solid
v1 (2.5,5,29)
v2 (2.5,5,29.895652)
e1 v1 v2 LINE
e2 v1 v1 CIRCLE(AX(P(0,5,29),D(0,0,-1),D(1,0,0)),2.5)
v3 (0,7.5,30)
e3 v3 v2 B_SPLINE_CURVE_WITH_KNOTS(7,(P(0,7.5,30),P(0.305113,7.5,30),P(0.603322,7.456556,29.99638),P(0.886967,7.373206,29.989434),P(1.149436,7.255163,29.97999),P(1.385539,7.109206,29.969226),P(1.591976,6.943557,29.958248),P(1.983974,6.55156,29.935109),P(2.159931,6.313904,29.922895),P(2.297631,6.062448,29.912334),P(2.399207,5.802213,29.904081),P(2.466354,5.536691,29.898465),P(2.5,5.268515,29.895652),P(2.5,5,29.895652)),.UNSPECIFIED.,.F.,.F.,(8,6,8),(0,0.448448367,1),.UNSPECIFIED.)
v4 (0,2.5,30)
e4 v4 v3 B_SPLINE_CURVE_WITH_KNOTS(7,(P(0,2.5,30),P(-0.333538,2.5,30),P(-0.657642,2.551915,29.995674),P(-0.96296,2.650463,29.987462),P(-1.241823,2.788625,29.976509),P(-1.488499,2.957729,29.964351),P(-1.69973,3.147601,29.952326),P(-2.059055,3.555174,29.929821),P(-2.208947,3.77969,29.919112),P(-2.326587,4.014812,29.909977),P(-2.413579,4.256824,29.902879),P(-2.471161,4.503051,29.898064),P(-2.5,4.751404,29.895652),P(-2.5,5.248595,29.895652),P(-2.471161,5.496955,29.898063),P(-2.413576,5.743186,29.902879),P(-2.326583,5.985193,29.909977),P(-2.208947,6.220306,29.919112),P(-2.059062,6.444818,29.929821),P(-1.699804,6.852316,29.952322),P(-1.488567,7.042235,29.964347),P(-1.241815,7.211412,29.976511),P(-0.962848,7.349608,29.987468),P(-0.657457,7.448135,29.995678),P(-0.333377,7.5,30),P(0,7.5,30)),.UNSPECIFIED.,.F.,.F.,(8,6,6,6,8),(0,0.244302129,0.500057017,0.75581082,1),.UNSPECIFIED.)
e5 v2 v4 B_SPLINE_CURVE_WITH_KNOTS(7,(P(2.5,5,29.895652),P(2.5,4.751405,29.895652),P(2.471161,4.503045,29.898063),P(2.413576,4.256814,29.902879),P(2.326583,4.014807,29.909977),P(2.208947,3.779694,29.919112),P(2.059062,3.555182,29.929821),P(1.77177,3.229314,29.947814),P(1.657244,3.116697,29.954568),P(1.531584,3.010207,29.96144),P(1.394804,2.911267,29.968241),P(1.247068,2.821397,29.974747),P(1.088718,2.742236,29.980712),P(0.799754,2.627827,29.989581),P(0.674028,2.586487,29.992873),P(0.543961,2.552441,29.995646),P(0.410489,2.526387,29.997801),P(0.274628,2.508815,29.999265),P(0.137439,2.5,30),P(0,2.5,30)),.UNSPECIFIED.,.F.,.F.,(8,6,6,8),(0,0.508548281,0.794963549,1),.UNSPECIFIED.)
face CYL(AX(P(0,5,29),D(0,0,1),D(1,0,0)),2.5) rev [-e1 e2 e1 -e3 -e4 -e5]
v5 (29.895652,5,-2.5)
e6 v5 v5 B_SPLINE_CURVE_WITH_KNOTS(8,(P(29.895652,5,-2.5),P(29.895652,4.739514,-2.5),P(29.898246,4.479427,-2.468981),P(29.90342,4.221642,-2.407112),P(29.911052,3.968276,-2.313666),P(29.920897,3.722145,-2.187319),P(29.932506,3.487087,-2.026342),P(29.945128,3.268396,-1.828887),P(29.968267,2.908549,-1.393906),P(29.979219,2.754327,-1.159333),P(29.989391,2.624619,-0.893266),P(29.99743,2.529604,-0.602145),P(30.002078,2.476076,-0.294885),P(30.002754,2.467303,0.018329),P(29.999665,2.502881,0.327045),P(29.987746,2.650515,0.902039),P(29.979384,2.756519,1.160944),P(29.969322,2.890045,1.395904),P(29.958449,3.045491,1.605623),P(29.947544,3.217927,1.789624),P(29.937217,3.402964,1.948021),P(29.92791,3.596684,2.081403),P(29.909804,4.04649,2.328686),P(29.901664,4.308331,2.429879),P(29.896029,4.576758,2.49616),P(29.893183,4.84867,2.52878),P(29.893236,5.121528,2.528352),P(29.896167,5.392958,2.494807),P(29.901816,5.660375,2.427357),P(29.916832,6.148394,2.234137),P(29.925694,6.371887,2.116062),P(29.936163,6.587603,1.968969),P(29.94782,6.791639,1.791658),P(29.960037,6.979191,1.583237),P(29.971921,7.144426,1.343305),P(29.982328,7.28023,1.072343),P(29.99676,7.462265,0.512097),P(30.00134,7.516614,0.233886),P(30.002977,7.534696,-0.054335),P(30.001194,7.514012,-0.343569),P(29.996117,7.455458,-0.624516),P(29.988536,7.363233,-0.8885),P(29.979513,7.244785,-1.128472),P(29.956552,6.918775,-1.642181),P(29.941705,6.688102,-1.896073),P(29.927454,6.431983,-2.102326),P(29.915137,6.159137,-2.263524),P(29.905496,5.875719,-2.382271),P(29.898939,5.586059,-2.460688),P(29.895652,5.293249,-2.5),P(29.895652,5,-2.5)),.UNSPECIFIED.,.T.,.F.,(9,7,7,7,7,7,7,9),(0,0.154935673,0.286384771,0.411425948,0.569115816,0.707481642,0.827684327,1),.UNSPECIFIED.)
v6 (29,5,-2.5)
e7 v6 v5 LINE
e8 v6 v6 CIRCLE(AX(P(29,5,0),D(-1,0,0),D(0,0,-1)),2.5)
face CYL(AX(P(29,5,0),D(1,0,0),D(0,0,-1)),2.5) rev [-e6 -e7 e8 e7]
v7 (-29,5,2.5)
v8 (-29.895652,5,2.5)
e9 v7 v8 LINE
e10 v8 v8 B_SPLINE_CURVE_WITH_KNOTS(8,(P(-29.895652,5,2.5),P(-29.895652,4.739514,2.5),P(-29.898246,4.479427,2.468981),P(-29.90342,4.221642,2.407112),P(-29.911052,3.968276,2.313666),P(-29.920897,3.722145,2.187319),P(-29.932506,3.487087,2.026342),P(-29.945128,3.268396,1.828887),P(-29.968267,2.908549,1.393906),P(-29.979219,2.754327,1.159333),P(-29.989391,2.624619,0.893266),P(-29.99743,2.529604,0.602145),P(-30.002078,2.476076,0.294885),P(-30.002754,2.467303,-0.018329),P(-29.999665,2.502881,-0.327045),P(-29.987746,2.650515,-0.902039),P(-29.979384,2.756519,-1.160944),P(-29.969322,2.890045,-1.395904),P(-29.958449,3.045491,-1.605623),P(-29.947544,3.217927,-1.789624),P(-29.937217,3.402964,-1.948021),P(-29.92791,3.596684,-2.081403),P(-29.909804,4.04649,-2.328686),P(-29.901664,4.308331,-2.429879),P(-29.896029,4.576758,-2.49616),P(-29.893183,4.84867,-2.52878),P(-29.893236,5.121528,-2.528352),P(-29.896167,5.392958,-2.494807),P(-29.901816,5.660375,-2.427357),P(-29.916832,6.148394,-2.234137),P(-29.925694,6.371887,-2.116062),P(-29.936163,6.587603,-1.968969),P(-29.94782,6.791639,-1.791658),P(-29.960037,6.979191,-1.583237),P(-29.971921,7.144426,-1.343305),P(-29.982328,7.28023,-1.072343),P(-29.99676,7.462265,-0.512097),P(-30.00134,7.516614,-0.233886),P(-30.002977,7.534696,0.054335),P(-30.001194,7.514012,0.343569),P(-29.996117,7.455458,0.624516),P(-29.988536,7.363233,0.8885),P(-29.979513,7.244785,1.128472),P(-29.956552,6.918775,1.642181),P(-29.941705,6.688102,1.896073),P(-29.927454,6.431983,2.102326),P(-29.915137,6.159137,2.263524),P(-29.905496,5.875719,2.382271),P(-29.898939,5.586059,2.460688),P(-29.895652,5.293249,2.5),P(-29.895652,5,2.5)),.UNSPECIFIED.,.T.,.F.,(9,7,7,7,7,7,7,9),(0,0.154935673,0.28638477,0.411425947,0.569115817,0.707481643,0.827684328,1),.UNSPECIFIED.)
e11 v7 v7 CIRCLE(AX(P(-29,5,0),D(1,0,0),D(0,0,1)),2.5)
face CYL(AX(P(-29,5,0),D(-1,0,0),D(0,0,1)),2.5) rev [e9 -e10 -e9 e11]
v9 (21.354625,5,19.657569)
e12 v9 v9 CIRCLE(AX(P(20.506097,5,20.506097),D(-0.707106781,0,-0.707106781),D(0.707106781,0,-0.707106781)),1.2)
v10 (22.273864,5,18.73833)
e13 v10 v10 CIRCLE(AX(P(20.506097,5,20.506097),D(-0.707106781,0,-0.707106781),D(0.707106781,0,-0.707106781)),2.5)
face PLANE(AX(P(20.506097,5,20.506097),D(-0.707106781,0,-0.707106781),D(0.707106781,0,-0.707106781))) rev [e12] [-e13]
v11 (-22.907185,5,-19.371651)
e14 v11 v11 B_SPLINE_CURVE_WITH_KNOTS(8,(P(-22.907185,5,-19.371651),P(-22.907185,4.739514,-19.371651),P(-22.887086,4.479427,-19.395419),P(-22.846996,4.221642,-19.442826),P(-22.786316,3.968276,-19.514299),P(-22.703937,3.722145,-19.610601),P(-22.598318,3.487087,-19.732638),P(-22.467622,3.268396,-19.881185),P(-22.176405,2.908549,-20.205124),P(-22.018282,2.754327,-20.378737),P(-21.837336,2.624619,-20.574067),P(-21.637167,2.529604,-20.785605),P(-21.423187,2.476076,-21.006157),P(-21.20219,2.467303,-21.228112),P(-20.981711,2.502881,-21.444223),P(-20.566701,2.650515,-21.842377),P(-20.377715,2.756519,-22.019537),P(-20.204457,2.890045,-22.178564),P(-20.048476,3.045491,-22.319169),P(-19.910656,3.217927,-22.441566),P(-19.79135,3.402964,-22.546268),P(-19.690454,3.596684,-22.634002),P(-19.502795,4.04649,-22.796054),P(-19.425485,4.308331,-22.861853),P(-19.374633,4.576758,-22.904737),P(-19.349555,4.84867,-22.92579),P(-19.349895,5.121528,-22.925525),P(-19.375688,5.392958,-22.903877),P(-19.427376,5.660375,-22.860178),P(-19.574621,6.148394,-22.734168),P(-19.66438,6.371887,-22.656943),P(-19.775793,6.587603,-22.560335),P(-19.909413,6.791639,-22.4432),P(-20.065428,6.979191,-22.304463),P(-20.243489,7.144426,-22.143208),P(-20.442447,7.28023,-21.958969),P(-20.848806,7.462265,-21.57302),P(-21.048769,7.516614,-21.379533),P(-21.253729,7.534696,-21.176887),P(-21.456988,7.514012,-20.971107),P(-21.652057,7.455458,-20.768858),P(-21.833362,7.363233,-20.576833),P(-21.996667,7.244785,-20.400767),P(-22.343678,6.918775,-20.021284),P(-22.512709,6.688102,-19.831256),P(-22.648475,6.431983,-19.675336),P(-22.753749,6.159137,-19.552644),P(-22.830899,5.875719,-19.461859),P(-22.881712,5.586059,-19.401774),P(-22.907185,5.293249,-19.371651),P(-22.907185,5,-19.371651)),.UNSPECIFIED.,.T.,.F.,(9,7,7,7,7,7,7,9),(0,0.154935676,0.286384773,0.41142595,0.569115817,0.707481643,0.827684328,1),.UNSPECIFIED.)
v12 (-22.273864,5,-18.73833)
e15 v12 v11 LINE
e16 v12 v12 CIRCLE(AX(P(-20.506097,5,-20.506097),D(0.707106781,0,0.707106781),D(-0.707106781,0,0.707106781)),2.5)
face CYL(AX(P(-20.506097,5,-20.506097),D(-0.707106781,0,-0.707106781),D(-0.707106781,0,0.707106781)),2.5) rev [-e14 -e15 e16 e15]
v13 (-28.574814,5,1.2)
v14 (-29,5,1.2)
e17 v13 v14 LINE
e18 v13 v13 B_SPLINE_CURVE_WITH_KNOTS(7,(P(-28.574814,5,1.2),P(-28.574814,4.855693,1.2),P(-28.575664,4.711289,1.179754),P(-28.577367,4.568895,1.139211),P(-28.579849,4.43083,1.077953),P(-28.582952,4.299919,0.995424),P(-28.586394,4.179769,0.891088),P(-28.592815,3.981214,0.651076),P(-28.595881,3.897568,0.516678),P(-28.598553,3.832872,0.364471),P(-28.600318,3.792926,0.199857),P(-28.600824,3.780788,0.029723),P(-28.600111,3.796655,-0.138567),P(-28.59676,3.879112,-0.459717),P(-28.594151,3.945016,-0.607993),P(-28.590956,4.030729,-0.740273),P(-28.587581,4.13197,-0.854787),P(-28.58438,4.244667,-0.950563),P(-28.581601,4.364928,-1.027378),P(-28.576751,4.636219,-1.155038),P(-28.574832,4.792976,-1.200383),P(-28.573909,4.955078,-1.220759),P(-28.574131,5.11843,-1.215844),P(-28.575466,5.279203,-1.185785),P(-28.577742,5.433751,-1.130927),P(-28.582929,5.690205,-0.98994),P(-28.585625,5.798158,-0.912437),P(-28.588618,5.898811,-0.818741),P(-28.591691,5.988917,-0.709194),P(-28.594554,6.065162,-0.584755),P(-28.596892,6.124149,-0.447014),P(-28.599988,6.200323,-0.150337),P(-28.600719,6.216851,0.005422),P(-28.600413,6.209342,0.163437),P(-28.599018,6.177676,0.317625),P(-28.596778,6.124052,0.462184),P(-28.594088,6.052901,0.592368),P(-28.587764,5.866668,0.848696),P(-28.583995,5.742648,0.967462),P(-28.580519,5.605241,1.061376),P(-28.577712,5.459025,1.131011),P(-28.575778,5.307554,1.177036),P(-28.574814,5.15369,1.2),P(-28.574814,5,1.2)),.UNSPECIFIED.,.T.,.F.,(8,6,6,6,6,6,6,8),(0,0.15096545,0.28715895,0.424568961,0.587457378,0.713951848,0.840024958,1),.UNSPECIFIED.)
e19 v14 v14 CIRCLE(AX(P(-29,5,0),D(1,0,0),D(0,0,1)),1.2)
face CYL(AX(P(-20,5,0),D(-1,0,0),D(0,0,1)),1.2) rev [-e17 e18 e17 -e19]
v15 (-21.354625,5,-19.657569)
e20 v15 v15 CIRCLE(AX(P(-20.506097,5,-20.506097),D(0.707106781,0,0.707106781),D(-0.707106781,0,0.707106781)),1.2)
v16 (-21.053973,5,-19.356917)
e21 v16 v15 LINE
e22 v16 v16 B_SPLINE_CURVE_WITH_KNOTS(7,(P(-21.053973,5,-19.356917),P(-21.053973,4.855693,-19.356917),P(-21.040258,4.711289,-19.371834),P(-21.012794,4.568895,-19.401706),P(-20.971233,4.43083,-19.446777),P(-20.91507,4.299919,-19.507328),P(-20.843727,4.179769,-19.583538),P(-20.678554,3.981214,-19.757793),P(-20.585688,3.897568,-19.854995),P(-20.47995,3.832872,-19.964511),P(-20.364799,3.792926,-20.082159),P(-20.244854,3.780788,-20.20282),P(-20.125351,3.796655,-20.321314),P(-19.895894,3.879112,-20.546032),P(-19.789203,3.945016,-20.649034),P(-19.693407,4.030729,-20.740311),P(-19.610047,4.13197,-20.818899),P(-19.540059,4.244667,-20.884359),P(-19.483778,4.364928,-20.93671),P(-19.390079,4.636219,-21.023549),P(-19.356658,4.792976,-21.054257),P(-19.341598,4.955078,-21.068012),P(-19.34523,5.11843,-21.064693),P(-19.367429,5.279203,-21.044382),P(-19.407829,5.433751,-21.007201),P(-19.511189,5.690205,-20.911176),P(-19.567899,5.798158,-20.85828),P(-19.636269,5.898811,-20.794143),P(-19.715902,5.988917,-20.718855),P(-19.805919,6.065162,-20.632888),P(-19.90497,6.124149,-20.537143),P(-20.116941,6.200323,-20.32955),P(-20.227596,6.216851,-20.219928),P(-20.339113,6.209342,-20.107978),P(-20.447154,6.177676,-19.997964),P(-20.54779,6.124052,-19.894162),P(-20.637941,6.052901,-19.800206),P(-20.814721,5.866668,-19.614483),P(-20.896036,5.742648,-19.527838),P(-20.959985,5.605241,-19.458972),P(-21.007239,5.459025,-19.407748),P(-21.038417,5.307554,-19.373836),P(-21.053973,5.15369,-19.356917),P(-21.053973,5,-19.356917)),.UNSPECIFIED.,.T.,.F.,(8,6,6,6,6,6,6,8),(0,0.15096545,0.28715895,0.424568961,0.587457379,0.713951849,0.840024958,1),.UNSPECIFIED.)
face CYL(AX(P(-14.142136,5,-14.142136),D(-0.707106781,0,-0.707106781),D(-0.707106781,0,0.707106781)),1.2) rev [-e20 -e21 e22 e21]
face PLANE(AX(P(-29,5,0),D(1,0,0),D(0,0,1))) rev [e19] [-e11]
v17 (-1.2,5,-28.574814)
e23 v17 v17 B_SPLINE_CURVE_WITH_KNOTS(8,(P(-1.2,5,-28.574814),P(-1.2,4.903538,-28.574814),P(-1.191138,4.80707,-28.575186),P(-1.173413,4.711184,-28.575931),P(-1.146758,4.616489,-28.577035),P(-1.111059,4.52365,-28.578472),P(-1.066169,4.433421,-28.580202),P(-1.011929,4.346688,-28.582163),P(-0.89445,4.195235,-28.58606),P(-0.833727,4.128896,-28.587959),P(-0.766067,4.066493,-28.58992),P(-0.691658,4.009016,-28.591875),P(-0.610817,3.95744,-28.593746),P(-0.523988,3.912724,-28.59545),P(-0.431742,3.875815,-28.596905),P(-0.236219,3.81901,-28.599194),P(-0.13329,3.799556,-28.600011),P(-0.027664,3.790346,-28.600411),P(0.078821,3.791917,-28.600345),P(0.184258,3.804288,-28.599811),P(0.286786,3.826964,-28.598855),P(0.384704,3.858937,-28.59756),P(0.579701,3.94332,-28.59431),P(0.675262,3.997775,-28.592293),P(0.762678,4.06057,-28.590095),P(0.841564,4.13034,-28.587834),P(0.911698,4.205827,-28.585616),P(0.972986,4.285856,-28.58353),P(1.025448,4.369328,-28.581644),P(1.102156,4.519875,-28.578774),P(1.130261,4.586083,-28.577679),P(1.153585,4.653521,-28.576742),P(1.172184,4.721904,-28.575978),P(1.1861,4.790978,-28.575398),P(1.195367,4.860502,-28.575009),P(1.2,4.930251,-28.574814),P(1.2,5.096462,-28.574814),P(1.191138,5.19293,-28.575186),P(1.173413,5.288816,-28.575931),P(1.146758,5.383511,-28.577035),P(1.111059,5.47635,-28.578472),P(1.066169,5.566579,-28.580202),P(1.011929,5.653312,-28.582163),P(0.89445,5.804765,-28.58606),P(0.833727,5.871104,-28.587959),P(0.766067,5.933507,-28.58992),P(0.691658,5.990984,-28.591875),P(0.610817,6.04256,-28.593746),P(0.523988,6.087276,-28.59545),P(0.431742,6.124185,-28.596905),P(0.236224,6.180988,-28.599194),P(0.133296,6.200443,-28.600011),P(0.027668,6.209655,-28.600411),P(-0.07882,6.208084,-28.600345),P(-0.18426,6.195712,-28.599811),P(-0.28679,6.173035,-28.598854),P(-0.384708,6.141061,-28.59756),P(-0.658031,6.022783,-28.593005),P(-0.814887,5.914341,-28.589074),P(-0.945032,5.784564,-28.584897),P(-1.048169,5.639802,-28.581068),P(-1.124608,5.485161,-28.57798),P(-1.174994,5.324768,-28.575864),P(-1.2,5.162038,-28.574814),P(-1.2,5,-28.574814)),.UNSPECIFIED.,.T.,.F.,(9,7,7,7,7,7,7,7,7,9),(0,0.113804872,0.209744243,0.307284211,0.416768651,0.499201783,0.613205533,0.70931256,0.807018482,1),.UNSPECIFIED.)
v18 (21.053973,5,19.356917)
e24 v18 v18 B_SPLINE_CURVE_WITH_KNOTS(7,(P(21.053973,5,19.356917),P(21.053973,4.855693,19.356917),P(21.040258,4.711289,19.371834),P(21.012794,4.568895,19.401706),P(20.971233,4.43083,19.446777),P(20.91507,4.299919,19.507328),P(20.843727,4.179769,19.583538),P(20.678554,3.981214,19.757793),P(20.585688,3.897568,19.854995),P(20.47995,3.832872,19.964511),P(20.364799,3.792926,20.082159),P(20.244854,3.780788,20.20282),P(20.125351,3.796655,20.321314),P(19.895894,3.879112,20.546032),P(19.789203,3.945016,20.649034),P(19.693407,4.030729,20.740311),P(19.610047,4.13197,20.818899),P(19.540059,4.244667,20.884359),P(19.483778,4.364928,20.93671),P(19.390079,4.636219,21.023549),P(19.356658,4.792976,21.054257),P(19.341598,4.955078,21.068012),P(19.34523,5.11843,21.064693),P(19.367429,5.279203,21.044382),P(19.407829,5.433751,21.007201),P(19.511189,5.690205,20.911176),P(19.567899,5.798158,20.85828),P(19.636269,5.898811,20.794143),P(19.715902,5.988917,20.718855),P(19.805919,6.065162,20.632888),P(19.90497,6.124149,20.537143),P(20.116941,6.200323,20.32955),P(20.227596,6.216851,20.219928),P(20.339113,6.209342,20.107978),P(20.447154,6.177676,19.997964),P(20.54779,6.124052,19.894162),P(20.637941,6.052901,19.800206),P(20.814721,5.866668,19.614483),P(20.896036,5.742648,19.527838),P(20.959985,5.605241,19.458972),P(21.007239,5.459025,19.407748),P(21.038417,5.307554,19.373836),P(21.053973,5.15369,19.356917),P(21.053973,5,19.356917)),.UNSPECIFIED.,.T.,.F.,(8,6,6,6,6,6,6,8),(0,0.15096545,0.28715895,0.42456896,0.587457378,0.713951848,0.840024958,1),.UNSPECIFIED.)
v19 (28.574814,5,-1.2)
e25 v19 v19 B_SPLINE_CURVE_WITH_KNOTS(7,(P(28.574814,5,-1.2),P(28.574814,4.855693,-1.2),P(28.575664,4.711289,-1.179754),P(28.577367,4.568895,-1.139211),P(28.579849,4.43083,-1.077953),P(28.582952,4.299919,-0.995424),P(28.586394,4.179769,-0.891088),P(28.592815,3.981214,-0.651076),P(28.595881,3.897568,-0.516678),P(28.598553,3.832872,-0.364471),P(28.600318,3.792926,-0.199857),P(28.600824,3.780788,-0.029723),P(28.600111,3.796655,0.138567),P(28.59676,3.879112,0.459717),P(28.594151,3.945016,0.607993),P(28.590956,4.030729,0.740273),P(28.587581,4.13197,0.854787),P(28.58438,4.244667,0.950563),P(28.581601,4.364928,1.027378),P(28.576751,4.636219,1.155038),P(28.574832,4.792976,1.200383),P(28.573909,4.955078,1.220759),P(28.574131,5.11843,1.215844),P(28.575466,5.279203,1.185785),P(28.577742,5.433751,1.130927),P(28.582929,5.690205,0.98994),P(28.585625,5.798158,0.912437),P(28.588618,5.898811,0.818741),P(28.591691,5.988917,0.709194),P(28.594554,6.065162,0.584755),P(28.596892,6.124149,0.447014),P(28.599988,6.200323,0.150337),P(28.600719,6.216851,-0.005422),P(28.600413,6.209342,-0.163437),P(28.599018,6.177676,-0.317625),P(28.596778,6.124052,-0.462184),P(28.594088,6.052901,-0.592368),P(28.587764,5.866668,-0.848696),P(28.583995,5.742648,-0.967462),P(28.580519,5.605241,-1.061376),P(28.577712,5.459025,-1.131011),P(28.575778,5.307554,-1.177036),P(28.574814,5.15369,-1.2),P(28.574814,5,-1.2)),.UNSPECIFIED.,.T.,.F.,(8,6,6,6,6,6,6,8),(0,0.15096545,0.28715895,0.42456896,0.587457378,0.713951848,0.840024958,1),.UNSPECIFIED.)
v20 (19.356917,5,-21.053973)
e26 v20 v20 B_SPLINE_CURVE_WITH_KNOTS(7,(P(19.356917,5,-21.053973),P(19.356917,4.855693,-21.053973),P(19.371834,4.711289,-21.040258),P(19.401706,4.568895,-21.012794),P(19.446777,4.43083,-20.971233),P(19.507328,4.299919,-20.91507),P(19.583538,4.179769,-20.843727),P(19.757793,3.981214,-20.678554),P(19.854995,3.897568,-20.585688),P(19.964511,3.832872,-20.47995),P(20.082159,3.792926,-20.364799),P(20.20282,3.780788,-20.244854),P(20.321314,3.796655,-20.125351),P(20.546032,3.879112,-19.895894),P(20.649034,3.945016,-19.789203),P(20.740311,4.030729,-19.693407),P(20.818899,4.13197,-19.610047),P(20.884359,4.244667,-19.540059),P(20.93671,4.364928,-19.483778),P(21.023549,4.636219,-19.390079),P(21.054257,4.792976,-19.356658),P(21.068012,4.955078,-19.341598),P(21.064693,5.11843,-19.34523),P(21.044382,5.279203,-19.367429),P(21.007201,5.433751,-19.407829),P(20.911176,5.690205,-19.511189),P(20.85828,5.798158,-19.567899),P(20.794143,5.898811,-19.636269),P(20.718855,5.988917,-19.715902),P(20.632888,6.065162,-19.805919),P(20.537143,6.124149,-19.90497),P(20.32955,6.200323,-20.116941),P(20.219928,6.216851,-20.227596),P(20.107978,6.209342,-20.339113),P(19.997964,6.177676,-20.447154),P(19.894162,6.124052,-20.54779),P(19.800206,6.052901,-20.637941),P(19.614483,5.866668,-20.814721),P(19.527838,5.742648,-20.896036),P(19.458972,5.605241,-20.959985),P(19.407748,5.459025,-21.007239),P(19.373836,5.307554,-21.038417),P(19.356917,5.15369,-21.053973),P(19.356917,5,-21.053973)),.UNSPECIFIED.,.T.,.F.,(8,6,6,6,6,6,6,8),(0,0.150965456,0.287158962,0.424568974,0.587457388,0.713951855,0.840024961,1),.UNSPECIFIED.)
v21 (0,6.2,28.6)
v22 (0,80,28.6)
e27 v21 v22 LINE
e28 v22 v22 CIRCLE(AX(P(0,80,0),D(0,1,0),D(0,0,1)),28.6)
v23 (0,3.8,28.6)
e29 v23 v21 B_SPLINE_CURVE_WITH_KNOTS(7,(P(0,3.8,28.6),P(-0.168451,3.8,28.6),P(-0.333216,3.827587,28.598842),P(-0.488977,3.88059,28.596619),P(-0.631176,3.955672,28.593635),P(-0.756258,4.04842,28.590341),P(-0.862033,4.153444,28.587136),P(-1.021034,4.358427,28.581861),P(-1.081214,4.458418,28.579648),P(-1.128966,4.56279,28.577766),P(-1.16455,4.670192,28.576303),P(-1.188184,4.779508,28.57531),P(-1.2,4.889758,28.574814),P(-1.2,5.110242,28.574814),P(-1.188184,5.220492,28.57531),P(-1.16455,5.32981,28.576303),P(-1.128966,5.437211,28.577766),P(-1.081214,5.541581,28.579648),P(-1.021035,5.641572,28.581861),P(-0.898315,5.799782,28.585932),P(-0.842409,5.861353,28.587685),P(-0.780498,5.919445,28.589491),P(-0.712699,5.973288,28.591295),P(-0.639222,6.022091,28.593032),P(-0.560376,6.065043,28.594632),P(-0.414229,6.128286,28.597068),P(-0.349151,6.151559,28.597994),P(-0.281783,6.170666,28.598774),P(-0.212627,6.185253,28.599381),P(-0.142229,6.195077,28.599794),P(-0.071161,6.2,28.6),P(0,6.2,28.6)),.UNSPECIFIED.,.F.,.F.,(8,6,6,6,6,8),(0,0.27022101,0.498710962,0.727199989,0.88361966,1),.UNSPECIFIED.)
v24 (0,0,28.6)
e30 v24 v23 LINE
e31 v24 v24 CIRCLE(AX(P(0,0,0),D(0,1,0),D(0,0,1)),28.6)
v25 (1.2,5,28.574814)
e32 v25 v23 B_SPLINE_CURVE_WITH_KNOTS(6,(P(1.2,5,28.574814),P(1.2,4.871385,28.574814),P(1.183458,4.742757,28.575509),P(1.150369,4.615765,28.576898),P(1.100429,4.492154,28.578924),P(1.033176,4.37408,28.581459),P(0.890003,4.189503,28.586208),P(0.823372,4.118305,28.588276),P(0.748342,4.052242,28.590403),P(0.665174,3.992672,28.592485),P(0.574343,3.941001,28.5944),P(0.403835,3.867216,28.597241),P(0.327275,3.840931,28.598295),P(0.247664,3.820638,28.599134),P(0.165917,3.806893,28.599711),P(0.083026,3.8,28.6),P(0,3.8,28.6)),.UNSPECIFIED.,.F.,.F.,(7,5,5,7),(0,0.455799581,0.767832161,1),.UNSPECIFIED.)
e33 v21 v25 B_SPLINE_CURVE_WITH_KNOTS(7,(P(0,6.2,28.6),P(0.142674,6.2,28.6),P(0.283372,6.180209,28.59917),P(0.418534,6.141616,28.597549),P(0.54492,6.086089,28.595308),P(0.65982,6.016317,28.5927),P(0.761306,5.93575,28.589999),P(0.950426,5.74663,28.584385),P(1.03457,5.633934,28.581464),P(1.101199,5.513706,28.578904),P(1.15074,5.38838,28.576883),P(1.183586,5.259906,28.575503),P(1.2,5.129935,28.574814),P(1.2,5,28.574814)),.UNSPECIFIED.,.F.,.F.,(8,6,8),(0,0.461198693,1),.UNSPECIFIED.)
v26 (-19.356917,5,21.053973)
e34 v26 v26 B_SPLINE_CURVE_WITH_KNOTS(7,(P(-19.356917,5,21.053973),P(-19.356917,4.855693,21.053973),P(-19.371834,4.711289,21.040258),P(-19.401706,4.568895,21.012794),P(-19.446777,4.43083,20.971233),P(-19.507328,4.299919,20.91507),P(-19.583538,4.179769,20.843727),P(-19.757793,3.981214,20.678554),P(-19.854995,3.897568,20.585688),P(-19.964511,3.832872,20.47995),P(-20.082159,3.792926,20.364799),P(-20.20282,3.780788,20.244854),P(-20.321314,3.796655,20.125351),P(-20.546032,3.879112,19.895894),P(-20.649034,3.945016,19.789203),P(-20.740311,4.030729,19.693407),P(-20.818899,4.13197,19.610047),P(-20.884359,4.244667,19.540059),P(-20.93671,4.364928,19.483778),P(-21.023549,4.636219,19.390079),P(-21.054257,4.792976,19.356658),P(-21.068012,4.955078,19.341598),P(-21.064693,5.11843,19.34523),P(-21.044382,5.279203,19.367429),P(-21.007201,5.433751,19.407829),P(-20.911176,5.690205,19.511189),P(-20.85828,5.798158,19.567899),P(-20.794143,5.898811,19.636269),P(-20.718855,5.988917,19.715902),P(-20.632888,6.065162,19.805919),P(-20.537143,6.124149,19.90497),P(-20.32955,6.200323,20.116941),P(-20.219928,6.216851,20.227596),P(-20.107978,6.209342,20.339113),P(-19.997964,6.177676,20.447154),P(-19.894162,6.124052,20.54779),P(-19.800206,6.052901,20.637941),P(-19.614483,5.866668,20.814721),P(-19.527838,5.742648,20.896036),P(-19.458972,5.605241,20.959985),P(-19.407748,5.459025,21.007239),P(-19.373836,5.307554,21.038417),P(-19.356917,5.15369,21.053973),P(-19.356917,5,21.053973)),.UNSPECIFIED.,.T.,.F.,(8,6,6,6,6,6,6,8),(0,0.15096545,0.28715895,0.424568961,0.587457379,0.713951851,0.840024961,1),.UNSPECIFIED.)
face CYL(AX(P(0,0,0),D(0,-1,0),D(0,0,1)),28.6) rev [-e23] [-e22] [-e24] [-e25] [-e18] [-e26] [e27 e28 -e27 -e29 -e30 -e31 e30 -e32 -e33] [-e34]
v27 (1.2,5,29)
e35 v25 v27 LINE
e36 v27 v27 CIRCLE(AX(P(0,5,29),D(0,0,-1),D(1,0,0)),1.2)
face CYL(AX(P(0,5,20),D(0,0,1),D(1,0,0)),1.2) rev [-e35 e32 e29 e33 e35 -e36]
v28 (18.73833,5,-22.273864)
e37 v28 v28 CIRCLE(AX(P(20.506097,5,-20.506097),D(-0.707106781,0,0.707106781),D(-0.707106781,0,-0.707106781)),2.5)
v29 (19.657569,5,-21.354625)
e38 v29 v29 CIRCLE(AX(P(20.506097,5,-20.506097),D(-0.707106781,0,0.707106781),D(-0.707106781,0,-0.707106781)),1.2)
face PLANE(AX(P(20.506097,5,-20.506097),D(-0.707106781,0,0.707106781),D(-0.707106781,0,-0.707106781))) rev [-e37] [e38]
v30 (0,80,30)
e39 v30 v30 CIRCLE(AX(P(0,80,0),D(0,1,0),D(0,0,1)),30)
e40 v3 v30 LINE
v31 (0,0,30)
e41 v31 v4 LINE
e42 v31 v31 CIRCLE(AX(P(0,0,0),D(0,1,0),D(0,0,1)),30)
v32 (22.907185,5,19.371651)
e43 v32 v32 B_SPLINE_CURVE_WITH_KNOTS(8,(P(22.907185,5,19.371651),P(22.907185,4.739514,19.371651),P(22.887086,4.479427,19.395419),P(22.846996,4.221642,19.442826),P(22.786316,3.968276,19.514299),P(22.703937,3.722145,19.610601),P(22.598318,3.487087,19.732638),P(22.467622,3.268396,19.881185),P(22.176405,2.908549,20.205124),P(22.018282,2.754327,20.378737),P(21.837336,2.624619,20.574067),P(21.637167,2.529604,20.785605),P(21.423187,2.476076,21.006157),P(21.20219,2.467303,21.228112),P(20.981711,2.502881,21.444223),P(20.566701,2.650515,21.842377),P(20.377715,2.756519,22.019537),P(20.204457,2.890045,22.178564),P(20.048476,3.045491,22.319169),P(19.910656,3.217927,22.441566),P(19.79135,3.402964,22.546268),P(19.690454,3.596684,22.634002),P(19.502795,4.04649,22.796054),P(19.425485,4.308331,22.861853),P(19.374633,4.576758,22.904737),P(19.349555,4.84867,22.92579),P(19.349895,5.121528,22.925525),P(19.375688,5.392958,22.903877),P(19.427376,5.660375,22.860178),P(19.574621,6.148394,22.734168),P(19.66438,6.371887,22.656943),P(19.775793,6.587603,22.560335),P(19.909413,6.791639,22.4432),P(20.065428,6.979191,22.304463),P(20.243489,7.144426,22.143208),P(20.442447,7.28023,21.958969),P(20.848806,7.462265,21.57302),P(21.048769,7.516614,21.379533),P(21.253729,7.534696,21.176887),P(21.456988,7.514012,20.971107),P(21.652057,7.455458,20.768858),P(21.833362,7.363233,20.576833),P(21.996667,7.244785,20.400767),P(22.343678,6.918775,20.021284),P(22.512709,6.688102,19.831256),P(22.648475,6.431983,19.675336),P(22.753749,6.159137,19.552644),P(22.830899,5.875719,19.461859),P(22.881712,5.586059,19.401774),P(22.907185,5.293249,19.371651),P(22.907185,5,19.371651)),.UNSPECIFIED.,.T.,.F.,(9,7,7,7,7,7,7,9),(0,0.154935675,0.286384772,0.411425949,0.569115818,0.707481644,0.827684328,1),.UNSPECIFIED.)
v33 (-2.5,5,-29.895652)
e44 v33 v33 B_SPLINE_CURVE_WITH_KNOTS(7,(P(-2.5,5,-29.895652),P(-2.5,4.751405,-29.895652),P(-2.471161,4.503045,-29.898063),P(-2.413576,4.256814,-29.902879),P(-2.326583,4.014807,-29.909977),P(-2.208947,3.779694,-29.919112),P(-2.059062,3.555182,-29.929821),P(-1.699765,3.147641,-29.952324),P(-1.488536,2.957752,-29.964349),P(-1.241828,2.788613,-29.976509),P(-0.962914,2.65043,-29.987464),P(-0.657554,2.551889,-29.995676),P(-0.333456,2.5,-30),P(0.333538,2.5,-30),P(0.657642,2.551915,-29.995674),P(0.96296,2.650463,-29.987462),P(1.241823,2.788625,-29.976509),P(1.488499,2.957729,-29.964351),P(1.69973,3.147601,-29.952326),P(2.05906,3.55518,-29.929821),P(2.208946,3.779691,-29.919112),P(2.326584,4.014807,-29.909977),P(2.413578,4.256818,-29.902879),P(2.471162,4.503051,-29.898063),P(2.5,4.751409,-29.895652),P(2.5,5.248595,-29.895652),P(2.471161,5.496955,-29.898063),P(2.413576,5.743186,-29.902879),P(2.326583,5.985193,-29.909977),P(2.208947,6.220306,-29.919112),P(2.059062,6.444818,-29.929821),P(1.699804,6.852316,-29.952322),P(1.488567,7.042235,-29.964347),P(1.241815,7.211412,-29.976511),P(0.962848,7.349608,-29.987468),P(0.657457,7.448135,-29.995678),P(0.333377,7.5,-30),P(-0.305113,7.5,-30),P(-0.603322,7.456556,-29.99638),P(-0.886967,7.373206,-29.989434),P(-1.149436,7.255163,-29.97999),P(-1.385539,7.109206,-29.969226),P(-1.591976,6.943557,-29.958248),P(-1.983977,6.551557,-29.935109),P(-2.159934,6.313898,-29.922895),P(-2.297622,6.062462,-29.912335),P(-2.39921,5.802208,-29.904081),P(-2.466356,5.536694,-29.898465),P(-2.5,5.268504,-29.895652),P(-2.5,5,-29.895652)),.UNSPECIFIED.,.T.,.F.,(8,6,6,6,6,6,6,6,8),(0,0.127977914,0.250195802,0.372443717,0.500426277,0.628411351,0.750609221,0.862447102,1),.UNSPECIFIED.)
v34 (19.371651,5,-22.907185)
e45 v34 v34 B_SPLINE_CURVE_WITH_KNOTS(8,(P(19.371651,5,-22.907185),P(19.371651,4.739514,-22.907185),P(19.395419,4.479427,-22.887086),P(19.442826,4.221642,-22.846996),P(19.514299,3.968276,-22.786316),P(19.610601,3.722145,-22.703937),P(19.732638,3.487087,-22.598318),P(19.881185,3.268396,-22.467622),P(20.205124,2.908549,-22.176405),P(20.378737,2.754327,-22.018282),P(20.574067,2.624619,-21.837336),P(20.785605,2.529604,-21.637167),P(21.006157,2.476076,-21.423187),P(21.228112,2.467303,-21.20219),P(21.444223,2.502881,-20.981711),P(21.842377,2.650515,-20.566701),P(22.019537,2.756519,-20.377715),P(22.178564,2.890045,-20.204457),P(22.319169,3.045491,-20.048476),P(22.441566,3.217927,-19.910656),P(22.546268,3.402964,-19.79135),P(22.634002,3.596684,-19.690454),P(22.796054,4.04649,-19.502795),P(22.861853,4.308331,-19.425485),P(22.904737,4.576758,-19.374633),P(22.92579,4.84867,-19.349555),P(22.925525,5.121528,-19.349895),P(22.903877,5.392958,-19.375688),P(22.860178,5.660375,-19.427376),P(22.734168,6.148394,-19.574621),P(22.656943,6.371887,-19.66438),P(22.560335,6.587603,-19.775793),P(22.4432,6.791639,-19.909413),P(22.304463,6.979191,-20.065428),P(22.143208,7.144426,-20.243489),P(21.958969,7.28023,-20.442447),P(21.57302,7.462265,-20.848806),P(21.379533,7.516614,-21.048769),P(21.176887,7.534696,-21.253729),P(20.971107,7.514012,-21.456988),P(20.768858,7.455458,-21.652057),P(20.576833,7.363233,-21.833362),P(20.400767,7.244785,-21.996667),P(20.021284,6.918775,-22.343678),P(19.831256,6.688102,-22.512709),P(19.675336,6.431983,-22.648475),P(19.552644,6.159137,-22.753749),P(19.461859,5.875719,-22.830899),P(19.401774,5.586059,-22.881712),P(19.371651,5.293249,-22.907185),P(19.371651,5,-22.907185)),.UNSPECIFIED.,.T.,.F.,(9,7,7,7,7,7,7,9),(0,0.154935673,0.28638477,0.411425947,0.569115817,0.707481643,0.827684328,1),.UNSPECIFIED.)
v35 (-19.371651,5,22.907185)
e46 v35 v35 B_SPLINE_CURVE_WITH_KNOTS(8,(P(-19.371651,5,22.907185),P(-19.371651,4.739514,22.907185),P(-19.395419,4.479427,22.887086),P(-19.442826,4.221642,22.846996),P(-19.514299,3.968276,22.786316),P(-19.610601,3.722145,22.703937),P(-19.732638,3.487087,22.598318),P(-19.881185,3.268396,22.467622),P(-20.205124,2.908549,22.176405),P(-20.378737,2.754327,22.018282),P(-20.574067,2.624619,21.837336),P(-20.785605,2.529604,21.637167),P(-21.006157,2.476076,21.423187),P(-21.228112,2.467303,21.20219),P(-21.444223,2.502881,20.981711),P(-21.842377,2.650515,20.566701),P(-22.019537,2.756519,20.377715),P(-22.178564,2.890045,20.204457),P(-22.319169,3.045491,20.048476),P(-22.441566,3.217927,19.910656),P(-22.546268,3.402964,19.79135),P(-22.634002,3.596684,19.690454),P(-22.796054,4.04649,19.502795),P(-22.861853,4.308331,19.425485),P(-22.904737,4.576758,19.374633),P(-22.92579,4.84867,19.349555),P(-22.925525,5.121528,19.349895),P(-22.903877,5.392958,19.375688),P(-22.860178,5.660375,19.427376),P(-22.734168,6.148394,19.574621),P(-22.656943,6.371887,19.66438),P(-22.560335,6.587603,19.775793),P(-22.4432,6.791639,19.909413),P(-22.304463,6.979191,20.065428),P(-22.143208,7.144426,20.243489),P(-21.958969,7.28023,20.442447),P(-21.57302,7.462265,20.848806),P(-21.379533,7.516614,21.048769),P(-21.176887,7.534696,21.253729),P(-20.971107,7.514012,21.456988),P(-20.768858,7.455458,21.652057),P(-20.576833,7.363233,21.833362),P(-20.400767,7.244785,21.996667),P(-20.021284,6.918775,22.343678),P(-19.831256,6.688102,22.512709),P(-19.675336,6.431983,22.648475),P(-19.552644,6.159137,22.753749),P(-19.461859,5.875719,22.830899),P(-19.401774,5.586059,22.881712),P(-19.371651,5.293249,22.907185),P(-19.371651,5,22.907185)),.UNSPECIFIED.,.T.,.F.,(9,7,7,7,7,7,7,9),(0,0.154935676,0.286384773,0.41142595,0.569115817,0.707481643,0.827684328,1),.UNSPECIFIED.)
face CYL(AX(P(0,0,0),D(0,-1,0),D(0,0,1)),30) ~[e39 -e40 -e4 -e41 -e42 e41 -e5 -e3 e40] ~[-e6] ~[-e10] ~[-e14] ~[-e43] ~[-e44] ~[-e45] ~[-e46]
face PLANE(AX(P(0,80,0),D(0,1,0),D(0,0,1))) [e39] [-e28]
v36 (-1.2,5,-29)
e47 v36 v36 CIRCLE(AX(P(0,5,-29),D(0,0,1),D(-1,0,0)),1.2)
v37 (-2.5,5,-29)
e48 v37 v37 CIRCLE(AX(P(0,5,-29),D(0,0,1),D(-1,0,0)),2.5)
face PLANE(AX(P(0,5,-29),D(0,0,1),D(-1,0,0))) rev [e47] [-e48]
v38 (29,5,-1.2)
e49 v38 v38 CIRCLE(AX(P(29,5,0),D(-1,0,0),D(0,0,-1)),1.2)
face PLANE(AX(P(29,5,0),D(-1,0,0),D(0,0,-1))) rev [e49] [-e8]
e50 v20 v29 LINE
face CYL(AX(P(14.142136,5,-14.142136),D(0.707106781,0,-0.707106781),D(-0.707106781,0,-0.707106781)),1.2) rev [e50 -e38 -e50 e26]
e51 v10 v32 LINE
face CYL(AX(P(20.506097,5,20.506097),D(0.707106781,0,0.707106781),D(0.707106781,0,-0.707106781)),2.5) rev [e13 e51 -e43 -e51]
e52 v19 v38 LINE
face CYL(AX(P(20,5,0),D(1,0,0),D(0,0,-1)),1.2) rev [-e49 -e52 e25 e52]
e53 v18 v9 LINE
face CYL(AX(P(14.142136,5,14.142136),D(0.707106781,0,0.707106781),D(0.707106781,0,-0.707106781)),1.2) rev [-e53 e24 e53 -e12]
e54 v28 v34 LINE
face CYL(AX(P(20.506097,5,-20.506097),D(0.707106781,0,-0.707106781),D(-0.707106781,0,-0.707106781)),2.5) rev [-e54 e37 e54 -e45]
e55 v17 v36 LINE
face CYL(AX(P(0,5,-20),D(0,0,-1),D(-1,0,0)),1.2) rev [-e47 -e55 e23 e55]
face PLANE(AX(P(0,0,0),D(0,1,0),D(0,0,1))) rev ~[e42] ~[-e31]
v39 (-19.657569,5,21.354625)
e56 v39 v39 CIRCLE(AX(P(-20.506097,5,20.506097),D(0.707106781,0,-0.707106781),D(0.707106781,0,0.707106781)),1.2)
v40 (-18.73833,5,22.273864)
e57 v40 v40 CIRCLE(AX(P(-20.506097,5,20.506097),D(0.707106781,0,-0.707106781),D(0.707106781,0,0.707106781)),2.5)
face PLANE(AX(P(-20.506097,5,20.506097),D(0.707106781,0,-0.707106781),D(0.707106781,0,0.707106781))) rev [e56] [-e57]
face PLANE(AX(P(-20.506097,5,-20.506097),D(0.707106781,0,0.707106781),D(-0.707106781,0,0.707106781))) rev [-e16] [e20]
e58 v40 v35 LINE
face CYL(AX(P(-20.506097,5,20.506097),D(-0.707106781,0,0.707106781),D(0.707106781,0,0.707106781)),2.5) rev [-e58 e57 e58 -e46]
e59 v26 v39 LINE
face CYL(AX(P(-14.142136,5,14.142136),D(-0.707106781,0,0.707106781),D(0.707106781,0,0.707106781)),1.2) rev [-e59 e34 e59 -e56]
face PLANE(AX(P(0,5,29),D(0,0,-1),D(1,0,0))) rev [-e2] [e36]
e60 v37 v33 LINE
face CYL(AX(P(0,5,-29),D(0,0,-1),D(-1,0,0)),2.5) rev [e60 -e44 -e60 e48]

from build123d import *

# Parameters (mm, degrees)
SKETCH_1_R               = 30
SKETCH_1_R_2             = 28.6
EXTRUDE_1_DEPTH          = 80
PATTERN_CIRCULAR_1_COUNT = 8


with BuildPart() as part:
    # 스케치1 → 보스-돌출1 (new body)
    with BuildSketch(Plane(origin=(0, 0, 0), x_dir=(1, 0, 0), z_dir=(0, 1, 0))):
        with Locations(Location((0, 0, 0), (0, 0, 270))):
            Circle(SKETCH_1_R)
        with Locations(Location((0, 0, 0), (0, 0, 270))):
            Circle(SKETCH_1_R_2, mode=Mode.SUBTRACT)
    extrude(amount=EXTRUDE_1_DEPTH)

    # 스케치9 → M2 남비 머리 나사용 카운터보어1 (revolve, cut)
    with BuildSketch(Plane(origin=(-30, 5, 0), x_dir=(0, 0, 1), z_dir=(0, 1, 0))):
        Polygon((0, 0), (0, 10.721032743), (1.2, 10), (1.2, 1), (2.5, 1), (2.5, 0), align=None)
    hole_wizard_m2_1 = revolve(axis=Axis((-36.35, 5, 0), (1, 0, 0)), mode=Mode.SUBTRACT)

    # 원형 패턴1: M2 남비 머리 나사용 카운터보어1 ×8 about axis
    pattern_circular_1_axis = Axis((0, 0, 0), (0, 1, 0))
    for i in range(1, PATTERN_CIRCULAR_1_COUNT):
        add(hole_wizard_m2_1.rotate(pattern_circular_1_axis, i * 360 / PATTERN_CIRCULAR_1_COUNT), mode=Mode.SUBTRACT)


solid = part.part
